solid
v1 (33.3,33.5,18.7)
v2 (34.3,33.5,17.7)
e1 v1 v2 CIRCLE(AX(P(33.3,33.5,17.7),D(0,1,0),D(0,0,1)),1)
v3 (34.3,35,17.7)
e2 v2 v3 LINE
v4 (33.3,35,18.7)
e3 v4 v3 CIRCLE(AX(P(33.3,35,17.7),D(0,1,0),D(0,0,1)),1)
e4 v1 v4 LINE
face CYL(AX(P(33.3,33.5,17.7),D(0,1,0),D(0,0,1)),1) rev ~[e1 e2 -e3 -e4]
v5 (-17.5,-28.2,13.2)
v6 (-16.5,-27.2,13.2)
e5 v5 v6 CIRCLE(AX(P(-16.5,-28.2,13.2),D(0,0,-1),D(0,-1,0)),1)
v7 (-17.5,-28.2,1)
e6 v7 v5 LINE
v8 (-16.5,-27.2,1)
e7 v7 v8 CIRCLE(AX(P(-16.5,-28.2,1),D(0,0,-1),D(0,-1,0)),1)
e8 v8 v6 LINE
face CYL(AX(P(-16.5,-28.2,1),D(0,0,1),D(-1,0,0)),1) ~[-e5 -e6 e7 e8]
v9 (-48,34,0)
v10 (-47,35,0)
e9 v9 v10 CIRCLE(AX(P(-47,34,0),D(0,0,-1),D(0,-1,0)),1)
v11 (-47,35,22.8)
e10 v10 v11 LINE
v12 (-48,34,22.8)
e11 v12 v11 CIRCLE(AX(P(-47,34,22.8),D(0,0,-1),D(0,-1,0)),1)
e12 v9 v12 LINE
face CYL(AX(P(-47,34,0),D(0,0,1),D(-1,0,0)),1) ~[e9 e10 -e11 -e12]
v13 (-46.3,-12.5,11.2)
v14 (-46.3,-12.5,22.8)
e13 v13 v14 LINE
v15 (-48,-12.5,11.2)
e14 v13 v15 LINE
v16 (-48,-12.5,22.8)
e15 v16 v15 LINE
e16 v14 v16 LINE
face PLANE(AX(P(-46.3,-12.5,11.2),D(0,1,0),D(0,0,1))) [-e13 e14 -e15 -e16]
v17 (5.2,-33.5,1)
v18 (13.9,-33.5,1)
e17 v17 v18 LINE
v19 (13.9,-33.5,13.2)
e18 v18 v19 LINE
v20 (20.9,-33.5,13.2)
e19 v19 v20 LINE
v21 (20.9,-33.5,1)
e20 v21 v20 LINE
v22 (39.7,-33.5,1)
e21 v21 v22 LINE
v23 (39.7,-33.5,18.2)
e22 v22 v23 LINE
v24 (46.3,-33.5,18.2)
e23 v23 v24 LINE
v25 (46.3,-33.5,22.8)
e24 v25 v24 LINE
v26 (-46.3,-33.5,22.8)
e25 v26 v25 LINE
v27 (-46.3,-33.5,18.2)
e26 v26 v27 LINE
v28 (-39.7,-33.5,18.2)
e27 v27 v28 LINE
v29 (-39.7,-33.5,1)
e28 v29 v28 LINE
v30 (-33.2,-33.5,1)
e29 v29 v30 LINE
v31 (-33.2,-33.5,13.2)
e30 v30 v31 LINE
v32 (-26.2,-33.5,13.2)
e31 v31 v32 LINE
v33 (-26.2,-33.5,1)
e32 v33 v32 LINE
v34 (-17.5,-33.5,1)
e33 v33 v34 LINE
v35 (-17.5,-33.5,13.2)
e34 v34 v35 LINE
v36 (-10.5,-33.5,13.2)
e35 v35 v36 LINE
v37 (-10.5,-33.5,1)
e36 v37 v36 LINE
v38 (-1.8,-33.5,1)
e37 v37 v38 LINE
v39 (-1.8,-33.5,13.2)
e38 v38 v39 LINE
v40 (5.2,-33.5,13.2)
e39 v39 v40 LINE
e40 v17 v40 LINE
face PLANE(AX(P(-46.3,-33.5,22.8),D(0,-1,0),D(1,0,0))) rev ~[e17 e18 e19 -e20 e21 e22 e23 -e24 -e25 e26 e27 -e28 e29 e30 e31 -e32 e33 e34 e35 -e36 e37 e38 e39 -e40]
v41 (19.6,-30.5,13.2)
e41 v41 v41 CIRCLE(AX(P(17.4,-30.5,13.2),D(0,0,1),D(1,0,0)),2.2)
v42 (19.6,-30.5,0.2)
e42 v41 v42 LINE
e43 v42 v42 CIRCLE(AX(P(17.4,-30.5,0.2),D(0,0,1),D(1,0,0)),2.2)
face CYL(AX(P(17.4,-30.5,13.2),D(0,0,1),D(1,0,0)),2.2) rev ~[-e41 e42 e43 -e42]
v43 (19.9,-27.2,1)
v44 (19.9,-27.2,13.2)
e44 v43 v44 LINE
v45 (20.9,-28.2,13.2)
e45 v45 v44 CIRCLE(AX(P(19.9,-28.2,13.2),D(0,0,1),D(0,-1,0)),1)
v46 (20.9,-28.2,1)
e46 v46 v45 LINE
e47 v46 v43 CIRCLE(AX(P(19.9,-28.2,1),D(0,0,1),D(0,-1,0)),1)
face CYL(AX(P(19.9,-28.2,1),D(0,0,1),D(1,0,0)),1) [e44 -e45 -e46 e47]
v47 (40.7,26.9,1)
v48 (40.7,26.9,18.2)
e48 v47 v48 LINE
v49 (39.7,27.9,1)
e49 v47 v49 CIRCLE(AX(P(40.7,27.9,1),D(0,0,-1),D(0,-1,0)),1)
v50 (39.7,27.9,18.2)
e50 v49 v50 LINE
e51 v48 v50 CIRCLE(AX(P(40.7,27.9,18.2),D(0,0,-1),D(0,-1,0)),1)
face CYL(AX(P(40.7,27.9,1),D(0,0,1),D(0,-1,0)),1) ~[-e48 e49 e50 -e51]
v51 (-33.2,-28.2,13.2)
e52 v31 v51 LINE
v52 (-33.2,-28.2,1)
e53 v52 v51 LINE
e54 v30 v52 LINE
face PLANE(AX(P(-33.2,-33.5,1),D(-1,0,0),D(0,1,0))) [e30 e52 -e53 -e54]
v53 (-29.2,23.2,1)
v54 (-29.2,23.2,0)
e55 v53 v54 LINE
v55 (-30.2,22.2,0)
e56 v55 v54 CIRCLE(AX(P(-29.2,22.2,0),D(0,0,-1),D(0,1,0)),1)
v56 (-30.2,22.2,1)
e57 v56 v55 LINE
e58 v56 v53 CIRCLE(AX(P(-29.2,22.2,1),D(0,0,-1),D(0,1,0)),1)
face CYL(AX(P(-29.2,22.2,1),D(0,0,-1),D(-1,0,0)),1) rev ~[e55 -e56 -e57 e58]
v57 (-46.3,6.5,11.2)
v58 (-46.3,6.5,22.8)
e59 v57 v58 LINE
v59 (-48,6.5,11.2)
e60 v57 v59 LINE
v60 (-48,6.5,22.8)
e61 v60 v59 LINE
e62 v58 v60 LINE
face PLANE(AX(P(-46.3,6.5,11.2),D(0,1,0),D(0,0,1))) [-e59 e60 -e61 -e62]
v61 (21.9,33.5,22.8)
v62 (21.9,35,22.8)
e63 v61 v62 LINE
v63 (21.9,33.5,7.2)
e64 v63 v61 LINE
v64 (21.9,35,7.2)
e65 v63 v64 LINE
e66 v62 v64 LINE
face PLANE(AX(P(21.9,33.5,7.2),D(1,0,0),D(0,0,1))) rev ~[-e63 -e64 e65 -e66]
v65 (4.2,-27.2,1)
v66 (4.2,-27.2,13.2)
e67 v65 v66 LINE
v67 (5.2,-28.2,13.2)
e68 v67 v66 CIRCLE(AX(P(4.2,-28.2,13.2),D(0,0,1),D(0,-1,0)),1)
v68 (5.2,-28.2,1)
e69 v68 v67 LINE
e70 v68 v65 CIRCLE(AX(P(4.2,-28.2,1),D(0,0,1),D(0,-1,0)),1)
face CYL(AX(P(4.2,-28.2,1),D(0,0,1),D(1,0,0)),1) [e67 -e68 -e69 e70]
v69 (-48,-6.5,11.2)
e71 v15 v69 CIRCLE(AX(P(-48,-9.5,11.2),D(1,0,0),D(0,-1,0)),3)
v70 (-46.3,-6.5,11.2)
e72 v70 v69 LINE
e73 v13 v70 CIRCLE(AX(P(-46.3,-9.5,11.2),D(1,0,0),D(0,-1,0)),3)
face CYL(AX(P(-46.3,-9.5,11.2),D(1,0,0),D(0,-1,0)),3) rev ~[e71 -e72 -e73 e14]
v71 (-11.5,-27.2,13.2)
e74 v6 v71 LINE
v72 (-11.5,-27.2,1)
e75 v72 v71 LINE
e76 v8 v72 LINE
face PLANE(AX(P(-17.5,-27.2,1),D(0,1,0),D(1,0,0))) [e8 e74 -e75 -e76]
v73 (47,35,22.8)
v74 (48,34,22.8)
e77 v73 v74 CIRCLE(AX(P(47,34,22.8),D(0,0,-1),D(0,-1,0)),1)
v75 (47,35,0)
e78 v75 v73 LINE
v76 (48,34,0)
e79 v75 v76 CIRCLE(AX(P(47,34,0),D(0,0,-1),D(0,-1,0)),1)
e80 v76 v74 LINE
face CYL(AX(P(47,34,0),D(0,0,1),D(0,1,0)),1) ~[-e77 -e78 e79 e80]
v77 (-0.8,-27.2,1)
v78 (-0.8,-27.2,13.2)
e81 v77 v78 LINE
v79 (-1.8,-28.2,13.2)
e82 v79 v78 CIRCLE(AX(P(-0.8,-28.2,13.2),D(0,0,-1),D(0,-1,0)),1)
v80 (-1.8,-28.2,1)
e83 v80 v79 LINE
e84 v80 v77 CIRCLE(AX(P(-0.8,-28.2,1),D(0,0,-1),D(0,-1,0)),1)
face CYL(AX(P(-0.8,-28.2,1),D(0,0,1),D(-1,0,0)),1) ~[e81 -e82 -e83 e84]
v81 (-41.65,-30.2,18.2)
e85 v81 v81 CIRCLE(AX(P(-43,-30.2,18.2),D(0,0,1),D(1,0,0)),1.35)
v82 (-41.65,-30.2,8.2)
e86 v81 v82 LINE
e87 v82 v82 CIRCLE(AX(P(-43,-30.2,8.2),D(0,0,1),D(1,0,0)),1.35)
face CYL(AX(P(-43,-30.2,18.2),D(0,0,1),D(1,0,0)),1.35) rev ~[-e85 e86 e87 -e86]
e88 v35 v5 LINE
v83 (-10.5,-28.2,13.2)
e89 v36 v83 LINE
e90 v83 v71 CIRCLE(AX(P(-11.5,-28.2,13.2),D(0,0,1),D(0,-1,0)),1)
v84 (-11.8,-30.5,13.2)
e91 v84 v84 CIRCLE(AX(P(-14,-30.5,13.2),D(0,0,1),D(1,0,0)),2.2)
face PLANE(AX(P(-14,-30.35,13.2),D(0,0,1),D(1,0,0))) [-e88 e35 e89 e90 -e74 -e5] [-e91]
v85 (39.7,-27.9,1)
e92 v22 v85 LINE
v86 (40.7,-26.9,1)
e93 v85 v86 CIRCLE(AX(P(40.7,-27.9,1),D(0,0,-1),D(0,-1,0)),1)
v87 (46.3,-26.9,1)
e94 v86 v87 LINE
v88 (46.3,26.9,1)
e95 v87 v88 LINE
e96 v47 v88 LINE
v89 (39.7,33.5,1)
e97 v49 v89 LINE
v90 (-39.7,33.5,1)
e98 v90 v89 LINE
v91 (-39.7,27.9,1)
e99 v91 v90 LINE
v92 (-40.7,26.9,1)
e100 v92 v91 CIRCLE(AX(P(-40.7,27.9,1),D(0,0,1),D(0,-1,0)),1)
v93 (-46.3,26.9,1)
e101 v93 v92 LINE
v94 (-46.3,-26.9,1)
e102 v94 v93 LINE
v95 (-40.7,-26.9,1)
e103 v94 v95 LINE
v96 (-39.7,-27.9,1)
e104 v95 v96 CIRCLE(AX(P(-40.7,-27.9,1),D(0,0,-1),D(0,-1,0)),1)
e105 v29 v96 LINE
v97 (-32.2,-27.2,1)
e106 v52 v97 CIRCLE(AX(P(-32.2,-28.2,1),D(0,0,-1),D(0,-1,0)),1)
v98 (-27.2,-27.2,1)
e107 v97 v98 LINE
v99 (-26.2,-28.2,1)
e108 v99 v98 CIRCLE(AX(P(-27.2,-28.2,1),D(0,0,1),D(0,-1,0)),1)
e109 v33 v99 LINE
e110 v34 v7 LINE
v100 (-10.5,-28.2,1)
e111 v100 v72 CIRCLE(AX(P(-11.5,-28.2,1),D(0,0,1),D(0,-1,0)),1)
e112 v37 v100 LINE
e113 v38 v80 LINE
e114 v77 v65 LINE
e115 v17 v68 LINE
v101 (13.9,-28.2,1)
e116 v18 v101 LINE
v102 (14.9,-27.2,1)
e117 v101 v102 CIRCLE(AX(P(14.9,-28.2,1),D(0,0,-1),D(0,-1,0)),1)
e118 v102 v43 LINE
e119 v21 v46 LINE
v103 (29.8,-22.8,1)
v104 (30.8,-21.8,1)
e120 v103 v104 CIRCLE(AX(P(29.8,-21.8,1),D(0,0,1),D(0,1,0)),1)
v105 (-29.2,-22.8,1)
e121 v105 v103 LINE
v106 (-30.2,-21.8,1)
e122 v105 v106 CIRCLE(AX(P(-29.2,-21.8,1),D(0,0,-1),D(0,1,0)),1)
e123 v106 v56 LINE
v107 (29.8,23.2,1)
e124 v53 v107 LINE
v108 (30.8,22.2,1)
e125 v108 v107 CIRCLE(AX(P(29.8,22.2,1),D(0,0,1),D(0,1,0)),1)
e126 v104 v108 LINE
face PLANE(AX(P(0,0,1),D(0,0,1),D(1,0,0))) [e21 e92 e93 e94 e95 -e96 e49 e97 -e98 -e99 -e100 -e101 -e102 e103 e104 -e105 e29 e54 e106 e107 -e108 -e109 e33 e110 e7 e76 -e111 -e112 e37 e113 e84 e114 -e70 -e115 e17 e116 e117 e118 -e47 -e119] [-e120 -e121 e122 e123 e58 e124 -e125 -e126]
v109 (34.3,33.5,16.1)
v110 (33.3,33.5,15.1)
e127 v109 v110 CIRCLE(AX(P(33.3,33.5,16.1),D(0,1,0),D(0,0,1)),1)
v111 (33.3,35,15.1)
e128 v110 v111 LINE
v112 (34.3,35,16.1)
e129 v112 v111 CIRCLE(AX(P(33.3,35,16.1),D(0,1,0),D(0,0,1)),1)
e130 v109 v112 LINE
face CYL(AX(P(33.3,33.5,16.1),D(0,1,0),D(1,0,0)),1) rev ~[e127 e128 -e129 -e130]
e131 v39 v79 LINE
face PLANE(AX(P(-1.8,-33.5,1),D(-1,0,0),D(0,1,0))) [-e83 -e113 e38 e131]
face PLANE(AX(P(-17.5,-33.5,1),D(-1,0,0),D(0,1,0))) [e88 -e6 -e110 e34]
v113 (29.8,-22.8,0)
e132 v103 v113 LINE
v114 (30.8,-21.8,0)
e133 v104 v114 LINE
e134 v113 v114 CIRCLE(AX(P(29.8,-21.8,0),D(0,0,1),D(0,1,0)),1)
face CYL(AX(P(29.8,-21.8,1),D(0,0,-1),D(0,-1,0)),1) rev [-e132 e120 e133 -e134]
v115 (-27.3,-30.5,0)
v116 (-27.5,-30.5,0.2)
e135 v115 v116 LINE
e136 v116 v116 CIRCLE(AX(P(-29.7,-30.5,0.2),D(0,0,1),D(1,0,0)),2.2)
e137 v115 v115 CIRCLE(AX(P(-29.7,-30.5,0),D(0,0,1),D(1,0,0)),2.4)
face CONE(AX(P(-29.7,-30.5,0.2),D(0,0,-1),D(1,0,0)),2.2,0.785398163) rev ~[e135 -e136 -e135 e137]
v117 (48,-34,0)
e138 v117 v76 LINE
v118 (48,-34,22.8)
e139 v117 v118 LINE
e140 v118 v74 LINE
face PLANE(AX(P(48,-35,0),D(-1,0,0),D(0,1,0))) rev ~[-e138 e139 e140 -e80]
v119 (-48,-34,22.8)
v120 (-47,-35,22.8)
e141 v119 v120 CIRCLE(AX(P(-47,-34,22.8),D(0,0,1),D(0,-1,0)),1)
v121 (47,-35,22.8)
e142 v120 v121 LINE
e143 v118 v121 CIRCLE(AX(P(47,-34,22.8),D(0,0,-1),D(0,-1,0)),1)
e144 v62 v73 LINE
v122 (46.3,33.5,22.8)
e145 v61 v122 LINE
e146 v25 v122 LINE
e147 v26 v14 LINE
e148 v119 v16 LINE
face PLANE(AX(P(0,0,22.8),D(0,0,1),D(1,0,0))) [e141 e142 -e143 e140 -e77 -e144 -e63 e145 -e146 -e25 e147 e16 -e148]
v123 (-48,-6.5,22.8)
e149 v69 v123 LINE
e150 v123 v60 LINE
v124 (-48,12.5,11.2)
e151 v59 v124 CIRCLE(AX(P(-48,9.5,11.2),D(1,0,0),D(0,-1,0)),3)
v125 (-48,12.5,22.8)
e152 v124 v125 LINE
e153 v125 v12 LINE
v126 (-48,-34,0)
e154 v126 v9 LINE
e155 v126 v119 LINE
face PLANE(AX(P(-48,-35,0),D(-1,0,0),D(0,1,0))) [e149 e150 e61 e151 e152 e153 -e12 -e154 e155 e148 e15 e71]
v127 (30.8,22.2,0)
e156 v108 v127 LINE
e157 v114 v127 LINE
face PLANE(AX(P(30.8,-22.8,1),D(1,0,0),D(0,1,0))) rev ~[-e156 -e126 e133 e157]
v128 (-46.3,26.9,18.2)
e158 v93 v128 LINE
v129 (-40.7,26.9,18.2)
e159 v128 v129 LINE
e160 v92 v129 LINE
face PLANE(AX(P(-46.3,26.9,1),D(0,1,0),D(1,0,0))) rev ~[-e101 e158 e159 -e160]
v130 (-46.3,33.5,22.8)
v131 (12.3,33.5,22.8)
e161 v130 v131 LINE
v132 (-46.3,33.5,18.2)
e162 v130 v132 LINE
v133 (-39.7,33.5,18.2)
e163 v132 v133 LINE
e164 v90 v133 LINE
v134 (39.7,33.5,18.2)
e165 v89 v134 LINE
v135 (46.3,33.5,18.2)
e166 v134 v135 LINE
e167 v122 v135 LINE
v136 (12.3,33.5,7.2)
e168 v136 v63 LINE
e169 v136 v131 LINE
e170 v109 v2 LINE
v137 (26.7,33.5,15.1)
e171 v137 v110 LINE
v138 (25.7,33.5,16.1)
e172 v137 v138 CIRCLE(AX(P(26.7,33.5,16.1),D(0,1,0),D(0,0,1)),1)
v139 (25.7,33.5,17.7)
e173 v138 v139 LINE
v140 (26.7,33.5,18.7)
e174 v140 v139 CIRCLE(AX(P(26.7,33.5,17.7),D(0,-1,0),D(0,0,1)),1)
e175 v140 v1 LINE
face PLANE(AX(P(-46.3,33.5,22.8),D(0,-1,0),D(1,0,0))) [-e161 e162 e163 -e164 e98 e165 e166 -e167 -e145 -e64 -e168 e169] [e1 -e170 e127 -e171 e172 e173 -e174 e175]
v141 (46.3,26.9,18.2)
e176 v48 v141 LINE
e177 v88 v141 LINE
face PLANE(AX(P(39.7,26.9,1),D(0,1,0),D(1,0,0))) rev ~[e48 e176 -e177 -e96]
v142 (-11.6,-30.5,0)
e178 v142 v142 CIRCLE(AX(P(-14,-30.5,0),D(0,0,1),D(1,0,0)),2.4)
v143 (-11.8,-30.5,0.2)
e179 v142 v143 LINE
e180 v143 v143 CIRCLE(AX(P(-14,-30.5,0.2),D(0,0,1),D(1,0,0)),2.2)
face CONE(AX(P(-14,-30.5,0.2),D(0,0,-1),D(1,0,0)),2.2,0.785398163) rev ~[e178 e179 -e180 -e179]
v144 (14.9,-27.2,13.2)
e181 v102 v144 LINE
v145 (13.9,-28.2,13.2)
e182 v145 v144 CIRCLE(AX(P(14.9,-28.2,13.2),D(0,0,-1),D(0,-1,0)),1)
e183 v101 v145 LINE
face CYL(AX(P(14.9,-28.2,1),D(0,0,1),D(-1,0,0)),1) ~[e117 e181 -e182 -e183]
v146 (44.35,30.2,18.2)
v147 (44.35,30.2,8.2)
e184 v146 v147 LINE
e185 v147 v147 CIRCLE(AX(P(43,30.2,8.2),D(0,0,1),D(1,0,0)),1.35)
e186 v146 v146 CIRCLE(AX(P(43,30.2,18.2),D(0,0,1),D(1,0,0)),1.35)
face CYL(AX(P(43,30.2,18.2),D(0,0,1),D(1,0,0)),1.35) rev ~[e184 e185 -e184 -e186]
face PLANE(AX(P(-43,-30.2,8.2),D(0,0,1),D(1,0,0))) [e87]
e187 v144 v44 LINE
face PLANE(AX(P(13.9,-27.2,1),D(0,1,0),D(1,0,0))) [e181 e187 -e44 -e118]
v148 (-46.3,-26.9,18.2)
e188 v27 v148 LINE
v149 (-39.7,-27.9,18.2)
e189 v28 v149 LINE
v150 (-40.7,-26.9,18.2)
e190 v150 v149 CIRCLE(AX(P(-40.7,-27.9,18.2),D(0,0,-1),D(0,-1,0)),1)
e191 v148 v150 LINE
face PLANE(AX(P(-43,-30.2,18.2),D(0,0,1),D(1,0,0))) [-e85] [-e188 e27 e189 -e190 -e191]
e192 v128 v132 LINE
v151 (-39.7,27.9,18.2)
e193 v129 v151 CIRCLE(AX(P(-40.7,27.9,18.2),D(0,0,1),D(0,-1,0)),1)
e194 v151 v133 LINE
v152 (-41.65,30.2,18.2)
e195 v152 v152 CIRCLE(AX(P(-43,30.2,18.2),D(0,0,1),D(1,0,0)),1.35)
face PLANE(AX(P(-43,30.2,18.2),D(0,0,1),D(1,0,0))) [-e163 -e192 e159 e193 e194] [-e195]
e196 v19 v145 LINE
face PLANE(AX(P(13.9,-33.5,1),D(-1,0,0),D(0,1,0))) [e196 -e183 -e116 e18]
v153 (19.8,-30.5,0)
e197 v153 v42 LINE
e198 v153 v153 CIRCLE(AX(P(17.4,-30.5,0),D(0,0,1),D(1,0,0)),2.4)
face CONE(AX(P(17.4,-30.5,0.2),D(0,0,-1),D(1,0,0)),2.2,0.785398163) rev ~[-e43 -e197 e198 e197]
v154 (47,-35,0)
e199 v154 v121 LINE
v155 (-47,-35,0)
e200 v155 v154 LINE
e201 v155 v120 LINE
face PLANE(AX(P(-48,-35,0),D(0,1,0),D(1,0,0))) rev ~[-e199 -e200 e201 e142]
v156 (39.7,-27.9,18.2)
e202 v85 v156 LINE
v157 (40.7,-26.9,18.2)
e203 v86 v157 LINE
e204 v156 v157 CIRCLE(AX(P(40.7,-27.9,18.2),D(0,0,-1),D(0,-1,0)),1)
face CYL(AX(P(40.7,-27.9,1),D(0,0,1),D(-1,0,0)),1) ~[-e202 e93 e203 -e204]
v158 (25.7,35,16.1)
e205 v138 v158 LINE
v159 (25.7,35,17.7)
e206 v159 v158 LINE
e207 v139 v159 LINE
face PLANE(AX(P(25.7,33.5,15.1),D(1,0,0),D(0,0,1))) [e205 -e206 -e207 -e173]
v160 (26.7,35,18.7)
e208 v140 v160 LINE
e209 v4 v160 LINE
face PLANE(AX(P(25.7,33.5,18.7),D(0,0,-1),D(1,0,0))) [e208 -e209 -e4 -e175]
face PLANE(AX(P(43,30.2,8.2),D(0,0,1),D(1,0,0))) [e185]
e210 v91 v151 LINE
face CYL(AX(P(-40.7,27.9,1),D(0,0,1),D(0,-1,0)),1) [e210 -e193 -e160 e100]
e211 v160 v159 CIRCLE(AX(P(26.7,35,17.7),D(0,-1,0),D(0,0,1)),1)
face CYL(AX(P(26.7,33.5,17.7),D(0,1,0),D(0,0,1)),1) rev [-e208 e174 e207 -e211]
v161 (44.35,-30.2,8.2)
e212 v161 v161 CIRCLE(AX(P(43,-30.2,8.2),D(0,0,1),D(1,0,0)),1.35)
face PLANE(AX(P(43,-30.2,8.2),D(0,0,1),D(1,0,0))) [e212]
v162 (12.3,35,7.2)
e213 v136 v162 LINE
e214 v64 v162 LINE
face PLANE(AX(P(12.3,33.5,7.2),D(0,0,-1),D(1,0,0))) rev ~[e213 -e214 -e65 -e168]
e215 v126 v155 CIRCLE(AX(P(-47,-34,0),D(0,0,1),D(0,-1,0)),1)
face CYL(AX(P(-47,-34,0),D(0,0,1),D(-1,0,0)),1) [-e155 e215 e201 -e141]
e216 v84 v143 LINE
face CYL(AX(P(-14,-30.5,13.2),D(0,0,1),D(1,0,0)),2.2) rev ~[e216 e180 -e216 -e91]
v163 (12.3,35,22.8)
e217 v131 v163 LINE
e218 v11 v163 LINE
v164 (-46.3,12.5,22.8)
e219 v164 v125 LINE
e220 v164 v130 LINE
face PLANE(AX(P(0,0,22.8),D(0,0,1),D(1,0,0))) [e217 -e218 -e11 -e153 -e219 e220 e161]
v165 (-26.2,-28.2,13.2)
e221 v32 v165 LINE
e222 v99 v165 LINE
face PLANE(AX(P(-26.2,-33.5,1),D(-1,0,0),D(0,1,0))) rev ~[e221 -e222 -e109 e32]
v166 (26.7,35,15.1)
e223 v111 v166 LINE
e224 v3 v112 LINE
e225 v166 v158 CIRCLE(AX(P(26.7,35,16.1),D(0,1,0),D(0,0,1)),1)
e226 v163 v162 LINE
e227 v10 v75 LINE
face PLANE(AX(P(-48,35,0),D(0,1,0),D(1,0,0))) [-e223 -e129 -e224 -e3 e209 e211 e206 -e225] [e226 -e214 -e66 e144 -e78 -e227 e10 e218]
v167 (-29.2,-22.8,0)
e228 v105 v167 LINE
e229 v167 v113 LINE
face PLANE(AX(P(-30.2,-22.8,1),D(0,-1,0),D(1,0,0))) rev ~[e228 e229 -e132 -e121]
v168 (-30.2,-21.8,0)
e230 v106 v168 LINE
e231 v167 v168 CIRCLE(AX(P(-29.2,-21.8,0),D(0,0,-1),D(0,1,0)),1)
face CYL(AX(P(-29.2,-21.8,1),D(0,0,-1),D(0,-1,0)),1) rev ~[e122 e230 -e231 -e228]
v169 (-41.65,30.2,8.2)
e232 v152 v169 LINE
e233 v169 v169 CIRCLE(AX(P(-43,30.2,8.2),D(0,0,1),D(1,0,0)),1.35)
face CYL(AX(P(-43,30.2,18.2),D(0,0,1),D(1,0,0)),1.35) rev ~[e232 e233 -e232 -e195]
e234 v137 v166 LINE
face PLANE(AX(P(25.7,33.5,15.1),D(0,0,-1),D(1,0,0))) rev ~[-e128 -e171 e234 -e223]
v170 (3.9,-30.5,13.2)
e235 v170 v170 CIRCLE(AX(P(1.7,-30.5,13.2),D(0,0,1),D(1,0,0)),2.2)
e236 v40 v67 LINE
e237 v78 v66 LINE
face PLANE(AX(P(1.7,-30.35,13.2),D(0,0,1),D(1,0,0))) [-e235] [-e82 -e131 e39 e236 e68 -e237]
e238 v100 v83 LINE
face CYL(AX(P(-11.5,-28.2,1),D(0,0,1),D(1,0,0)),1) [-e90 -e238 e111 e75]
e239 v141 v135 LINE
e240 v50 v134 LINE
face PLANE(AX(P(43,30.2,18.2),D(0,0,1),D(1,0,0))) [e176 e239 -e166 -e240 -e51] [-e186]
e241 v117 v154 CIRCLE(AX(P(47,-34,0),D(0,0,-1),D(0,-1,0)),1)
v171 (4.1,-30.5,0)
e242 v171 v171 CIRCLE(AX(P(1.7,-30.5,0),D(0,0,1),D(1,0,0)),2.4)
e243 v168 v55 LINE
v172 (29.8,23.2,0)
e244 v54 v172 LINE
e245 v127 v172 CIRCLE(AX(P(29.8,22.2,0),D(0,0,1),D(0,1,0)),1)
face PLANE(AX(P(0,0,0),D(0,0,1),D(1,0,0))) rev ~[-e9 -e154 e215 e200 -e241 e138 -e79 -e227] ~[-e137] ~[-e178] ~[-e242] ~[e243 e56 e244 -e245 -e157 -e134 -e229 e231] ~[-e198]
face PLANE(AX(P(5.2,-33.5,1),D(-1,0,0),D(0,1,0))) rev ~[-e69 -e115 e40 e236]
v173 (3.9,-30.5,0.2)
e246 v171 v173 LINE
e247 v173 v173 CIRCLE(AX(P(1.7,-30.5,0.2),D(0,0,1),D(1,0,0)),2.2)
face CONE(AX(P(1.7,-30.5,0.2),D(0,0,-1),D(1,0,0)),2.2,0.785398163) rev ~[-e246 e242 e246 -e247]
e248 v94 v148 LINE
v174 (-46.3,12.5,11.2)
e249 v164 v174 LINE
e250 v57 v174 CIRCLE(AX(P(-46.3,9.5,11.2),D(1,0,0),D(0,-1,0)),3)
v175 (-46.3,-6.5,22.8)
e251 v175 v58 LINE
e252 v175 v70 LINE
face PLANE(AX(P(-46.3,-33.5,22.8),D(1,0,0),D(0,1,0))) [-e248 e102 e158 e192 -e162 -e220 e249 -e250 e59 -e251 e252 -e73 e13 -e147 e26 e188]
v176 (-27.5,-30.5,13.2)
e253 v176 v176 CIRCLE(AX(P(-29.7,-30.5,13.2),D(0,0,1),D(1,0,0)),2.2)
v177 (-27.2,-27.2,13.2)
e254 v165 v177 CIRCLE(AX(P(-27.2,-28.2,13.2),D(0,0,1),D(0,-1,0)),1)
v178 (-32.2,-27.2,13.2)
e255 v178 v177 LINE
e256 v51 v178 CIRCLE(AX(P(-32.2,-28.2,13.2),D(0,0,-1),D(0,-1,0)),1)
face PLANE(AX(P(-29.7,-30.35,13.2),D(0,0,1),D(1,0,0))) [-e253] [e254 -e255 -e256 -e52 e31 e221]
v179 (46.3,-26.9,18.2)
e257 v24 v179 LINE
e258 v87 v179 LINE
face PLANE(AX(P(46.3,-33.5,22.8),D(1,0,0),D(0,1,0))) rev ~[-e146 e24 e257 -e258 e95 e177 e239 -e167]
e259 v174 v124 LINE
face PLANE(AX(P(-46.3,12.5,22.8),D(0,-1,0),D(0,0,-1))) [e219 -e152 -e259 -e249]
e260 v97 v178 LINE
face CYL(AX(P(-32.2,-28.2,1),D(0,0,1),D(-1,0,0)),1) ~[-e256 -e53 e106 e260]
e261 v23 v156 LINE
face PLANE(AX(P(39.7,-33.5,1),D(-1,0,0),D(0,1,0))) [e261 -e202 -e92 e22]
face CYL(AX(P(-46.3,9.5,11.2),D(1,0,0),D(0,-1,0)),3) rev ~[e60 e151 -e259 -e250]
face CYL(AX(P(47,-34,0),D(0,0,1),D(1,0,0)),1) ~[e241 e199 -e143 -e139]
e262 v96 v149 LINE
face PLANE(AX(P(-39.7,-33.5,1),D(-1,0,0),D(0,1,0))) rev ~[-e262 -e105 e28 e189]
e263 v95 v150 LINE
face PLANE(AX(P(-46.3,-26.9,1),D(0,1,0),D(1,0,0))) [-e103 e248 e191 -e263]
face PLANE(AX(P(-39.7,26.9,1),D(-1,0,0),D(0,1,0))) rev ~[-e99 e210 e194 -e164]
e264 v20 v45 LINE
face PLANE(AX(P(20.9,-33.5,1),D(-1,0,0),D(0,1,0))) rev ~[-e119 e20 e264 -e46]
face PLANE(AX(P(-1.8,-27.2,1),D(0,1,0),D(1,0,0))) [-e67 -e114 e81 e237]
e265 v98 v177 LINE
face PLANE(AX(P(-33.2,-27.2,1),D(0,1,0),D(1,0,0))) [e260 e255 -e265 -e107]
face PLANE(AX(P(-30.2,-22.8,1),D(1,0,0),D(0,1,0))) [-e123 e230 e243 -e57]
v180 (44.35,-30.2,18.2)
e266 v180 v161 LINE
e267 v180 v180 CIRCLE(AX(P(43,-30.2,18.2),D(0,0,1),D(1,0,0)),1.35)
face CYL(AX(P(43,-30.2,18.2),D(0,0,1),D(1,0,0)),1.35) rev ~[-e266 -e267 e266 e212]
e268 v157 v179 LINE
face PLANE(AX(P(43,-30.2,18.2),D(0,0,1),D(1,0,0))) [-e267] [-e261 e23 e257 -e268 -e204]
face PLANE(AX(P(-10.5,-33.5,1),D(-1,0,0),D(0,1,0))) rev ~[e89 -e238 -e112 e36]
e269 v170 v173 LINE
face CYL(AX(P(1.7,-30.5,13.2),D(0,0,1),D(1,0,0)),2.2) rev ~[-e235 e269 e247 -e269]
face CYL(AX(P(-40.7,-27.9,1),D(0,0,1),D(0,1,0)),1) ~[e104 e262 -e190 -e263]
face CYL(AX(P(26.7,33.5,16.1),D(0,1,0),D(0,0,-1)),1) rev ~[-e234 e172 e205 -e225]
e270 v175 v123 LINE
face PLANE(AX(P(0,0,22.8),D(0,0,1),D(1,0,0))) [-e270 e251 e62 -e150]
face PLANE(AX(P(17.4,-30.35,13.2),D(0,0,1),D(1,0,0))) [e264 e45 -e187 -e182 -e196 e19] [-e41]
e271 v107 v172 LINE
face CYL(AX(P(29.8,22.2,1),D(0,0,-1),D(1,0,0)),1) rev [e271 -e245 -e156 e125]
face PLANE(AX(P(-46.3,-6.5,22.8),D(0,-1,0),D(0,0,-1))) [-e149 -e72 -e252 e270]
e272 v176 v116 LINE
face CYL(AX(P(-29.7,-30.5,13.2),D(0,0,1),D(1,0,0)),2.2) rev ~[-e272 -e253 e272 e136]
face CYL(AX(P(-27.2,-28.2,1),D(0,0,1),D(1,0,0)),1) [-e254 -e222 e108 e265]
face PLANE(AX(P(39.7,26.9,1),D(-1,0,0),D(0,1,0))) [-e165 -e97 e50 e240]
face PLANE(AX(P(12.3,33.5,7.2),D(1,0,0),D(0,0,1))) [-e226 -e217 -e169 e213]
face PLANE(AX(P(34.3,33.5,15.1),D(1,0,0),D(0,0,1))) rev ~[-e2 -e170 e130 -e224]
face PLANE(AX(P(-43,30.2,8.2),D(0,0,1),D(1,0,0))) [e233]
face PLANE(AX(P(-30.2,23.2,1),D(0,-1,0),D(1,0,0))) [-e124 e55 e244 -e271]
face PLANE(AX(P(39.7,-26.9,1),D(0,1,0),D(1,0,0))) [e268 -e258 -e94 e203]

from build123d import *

# Parameters (mm, degrees)
SKETCH_W        = 96
SKETCH_H        = 70
PAD_DEPTH       = 22.8
SKETCH001_W     = 92.6
SKETCH001_H     = 67
POCKET_DEPTH    = 21.8
SKETCH002_W     = 6.6
SKETCH002_H     = 6.6
PAD001_DEPTH    = 17.2
SKETCH003_W     = 61
SKETCH003_H     = 46
POCKET001_DEPTH = 1.001
SKETCH004_R     = 1.35
POCKET002_DEPTH = 10
SKETCH005_R     = 1.35
POCKET003_DEPTH = 10
SKETCH006_R     = 1.35
POCKET004_DEPTH = 10
SKETCH007_R     = 1.35
POCKET005_DEPTH = 10
POCKET006_DEPTH = 1.701
SKETCH009_W     = 7
SKETCH009_H     = 6.3
PAD002_DEPTH    = 12.2
SKETCH010_R     = 2.2
POCKET007_DEPTH = 13.201
SKETCH011_R     = 2.2
POCKET008_DEPTH = 13.201
SKETCH012_R     = 2.2
POCKET009_DEPTH = 13.201
SKETCH013_R     = 2.2
POCKET010_DEPTH = 13.201
SKETCH014_W     = 9.6
SKETCH014_H     = 15.6
POCKET011_DEPTH = 1.501
SKETCH015_W     = 8.6
SKETCH015_H     = 3.6
POCKET012_DEPTH = 1.501
FILLET_R        = 1
FILLET001_R     = 1
CHAMFER_SIZE    = 0.2
FILLET002_R     = 1
FILLET003_R     = 1


with BuildPart() as part:
    # Sketch → Pad (new body)
    with BuildSketch(Plane.XY):
        Rectangle(SKETCH_W, SKETCH_H)
    extrude(amount=PAD_DEPTH)

    # Sketch001 (on Face6 of Pad) → Pocket (cut)
    with BuildSketch(Plane.XY.offset(22.8)):
        Rectangle(SKETCH001_W, SKETCH001_H)
    extrude(amount=-POCKET_DEPTH, mode=Mode.SUBTRACT)

    # Sketch002 (on Face11 of Pocket) → Pad001 (join)
    with BuildSketch(Plane.XY.offset(1)):
        with Locations((-43, 30.2)):
            Rectangle(SKETCH002_W, SKETCH002_H)
        with Locations((43, 30.2)):
            Rectangle(SKETCH002_W, SKETCH002_H)
        with Locations((43, -30.2)):
            Rectangle(SKETCH002_W, SKETCH002_H)
        with Locations((-43, -30.2)):
            Rectangle(SKETCH002_W, SKETCH002_H)
    extrude(amount=PAD001_DEPTH)

    # Sketch003 (on Face13 of Pad001) → Pocket001 (cut, through all)
    with BuildSketch(Plane.XY.offset(1)):
        with Locations((0.3, 0.2)):
            Rectangle(SKETCH003_W, SKETCH003_H)
    extrude(amount=-POCKET001_DEPTH, mode=Mode.SUBTRACT)

    # Sketch004 (on Face19 of Pocket001) → Pocket002 (cut)
    with BuildSketch(Plane.XY.offset(18.2)):
        with Locations((-43, 30.2)):
            Circle(SKETCH004_R)
    extrude(amount=-POCKET002_DEPTH, mode=Mode.SUBTRACT)

    # Sketch005 (on Face16 of Pocket002) → Pocket003 (cut)
    with BuildSketch(Plane.XY.offset(18.2)):
        with Locations((43, 30.2)):
            Circle(SKETCH005_R)
    extrude(amount=-POCKET003_DEPTH, mode=Mode.SUBTRACT)

    # Sketch006 (on Face23 of Pocket003) → Pocket004 (cut)
    with BuildSketch(Plane.XY.offset(18.2)):
        with Locations((-43, -30.2)):
            Circle(SKETCH006_R)
    extrude(amount=-POCKET004_DEPTH, mode=Mode.SUBTRACT)

    # Sketch007 (on Face20 of Pocket004) → Pocket005 (cut)
    with BuildSketch(Plane.XY.offset(18.2)):
        with Locations((43, -30.2)):
            Circle(SKETCH007_R)
    extrude(amount=-POCKET005_DEPTH, mode=Mode.SUBTRACT)

    # Sketch008 (on Face14 of Pocket005) → Pocket006 (cut, through all)
    with BuildSketch(Plane.YZ.offset(-46.3)):
        with BuildLine():
            Line((-12.5, 22.8), (-6.5, 22.8))
            Line((-6.5, 22.8), (-6.5, 11.2))
            ThreePointArc((-12.5, 11.2), (-9.5, 8.2), (-6.5, 11.2))
            Line((-12.5, 11.2), (-12.5, 22.8))
        make_face()
        with BuildLine():
            Line((6.5, 22.8), (12.5, 22.8))
            Line((12.5, 22.8), (12.5, 11.2))
            ThreePointArc((6.5, 11.2), (9.5, 8.2), (12.5, 11.2))
            Line((6.5, 11.2), (6.5, 22.8))
        make_face()
    extrude(amount=-POCKET006_DEPTH, mode=Mode.SUBTRACT)

    # Sketch009 (on Face22 of Pocket006) → Pad002 (join)
    with BuildSketch(Plane.XY.offset(1)):
        with Locations((-29.7, -30.35)):
            Rectangle(SKETCH009_W, SKETCH009_H)
        with Locations((-14, -30.35)):
            Rectangle(SKETCH009_W, SKETCH009_H)
        with Locations((1.7, -30.35)):
            Rectangle(SKETCH009_W, SKETCH009_H)
        with Locations((17.4, -30.35)):
            Rectangle(SKETCH009_W, SKETCH009_H)
    extrude(amount=PAD002_DEPTH)

    # Sketch010 (on Face35 of Pad002) → Pocket007 (cut, through all)
    with BuildSketch(Plane.XY.offset(13.2)):
        with Locations((-29.7, -30.5)):
            Circle(SKETCH010_R)
    extrude(amount=-POCKET007_DEPTH, mode=Mode.SUBTRACT)

    # Sketch011 (on Face39 of Pocket007) → Pocket008 (cut, through all)
    with BuildSketch(Plane.XY.offset(13.2)):
        with Locations((-14, -30.5)):
            Circle(SKETCH011_R)
    extrude(amount=-POCKET008_DEPTH, mode=Mode.SUBTRACT)

    # Sketch012 (on Face43 of Pocket008) → Pocket009 (cut, through all)
    with BuildSketch(Plane.XY.offset(13.2)):
        with Locations((1.7, -30.5)):
            Circle(SKETCH012_R)
    extrude(amount=-POCKET009_DEPTH, mode=Mode.SUBTRACT)

    # Sketch013 (on Face47 of Pocket009) → Pocket010 (cut, through all)
    with BuildSketch(Plane.XY.offset(13.2)):
        with Locations((17.4, -30.5)):
            Circle(SKETCH013_R)
    extrude(amount=-POCKET010_DEPTH, mode=Mode.SUBTRACT)

    # Sketch014 (on Face23 of Pocket010) → Pocket011 (cut, through all)
    with BuildSketch(Plane.XZ.offset(-33.5)):
        with Locations((17.1, 15)):
            Rectangle(SKETCH014_W, SKETCH014_H)
    extrude(amount=-POCKET011_DEPTH, mode=Mode.SUBTRACT)

    # Sketch015 (on Face19 of Pocket011) → Pocket012 (cut, through all)
    with BuildSketch(Plane.XZ.offset(-33.5)):
        with Locations((30, 16.9)):
            Rectangle(SKETCH015_W, SKETCH015_H)
    extrude(amount=-POCKET012_DEPTH, mode=Mode.SUBTRACT)

    # Fillet
    fillet_edges = [part.edges().sort_by_distance(p)[0] for p in [
        (48, 35, 11.4),
        (-48, 35, 11.4),
        (-48, -35, 11.4),
        (48, -35, 11.4),
    ]]
    fillet(fillet_edges, radius=FILLET_R)

    # Fillet001
    fillet001_edges = [part.edges().sort_by_distance(p)[0] for p in [
        (-39.7, 26.9, 9.6),
        (39.7, 26.9, 9.6),
        (39.7, -26.9, 9.6),
        (20.9, -27.2, 7.1),
        (13.9, -27.2, 7.1),
        (5.2, -27.2, 7.1),
        (-1.8, -27.2, 7.1),
        (-10.5, -27.2, 7.1),
        (-17.5, -27.2, 7.1),
        (-26.2, -27.2, 7.1),
        (-33.2, -27.2, 7.1),
        (-39.7, -26.9, 9.6),
    ]]
    fillet(fillet001_edges, radius=FILLET001_R)

    # Chamfer
    chamfer_edges = [part.edges().sort_by_distance(p)[0] for p in [
        (15.2, -30.5, 0),
        (-0.5, -30.5, 0),
        (-16.2, -30.5, 0),
        (-31.9, -30.5, 0),
    ]]
    chamfer(chamfer_edges, length=CHAMFER_SIZE)

    # Fillet002
    fillet002_edges = [part.edges().sort_by_distance(p)[0] for p in [
        (34.3, 34.25, 15.1),
        (34.3, 34.25, 18.7),
        (25.7, 34.25, 18.7),
        (25.7, 34.25, 15.1),
    ]]
    fillet(fillet002_edges, radius=FILLET002_R)

    # Fillet003
    fillet003_edges = [part.edges().sort_by_distance(p)[0] for p in [
        (-30.2, 23.2, 0.5),
        (30.8, 23.2, 0.5),
        (30.8, -22.8, 0.5),
        (-30.2, -22.8, 0.5),
    ]]
    fillet(fillet003_edges, radius=FILLET003_R)


solid = part.part
